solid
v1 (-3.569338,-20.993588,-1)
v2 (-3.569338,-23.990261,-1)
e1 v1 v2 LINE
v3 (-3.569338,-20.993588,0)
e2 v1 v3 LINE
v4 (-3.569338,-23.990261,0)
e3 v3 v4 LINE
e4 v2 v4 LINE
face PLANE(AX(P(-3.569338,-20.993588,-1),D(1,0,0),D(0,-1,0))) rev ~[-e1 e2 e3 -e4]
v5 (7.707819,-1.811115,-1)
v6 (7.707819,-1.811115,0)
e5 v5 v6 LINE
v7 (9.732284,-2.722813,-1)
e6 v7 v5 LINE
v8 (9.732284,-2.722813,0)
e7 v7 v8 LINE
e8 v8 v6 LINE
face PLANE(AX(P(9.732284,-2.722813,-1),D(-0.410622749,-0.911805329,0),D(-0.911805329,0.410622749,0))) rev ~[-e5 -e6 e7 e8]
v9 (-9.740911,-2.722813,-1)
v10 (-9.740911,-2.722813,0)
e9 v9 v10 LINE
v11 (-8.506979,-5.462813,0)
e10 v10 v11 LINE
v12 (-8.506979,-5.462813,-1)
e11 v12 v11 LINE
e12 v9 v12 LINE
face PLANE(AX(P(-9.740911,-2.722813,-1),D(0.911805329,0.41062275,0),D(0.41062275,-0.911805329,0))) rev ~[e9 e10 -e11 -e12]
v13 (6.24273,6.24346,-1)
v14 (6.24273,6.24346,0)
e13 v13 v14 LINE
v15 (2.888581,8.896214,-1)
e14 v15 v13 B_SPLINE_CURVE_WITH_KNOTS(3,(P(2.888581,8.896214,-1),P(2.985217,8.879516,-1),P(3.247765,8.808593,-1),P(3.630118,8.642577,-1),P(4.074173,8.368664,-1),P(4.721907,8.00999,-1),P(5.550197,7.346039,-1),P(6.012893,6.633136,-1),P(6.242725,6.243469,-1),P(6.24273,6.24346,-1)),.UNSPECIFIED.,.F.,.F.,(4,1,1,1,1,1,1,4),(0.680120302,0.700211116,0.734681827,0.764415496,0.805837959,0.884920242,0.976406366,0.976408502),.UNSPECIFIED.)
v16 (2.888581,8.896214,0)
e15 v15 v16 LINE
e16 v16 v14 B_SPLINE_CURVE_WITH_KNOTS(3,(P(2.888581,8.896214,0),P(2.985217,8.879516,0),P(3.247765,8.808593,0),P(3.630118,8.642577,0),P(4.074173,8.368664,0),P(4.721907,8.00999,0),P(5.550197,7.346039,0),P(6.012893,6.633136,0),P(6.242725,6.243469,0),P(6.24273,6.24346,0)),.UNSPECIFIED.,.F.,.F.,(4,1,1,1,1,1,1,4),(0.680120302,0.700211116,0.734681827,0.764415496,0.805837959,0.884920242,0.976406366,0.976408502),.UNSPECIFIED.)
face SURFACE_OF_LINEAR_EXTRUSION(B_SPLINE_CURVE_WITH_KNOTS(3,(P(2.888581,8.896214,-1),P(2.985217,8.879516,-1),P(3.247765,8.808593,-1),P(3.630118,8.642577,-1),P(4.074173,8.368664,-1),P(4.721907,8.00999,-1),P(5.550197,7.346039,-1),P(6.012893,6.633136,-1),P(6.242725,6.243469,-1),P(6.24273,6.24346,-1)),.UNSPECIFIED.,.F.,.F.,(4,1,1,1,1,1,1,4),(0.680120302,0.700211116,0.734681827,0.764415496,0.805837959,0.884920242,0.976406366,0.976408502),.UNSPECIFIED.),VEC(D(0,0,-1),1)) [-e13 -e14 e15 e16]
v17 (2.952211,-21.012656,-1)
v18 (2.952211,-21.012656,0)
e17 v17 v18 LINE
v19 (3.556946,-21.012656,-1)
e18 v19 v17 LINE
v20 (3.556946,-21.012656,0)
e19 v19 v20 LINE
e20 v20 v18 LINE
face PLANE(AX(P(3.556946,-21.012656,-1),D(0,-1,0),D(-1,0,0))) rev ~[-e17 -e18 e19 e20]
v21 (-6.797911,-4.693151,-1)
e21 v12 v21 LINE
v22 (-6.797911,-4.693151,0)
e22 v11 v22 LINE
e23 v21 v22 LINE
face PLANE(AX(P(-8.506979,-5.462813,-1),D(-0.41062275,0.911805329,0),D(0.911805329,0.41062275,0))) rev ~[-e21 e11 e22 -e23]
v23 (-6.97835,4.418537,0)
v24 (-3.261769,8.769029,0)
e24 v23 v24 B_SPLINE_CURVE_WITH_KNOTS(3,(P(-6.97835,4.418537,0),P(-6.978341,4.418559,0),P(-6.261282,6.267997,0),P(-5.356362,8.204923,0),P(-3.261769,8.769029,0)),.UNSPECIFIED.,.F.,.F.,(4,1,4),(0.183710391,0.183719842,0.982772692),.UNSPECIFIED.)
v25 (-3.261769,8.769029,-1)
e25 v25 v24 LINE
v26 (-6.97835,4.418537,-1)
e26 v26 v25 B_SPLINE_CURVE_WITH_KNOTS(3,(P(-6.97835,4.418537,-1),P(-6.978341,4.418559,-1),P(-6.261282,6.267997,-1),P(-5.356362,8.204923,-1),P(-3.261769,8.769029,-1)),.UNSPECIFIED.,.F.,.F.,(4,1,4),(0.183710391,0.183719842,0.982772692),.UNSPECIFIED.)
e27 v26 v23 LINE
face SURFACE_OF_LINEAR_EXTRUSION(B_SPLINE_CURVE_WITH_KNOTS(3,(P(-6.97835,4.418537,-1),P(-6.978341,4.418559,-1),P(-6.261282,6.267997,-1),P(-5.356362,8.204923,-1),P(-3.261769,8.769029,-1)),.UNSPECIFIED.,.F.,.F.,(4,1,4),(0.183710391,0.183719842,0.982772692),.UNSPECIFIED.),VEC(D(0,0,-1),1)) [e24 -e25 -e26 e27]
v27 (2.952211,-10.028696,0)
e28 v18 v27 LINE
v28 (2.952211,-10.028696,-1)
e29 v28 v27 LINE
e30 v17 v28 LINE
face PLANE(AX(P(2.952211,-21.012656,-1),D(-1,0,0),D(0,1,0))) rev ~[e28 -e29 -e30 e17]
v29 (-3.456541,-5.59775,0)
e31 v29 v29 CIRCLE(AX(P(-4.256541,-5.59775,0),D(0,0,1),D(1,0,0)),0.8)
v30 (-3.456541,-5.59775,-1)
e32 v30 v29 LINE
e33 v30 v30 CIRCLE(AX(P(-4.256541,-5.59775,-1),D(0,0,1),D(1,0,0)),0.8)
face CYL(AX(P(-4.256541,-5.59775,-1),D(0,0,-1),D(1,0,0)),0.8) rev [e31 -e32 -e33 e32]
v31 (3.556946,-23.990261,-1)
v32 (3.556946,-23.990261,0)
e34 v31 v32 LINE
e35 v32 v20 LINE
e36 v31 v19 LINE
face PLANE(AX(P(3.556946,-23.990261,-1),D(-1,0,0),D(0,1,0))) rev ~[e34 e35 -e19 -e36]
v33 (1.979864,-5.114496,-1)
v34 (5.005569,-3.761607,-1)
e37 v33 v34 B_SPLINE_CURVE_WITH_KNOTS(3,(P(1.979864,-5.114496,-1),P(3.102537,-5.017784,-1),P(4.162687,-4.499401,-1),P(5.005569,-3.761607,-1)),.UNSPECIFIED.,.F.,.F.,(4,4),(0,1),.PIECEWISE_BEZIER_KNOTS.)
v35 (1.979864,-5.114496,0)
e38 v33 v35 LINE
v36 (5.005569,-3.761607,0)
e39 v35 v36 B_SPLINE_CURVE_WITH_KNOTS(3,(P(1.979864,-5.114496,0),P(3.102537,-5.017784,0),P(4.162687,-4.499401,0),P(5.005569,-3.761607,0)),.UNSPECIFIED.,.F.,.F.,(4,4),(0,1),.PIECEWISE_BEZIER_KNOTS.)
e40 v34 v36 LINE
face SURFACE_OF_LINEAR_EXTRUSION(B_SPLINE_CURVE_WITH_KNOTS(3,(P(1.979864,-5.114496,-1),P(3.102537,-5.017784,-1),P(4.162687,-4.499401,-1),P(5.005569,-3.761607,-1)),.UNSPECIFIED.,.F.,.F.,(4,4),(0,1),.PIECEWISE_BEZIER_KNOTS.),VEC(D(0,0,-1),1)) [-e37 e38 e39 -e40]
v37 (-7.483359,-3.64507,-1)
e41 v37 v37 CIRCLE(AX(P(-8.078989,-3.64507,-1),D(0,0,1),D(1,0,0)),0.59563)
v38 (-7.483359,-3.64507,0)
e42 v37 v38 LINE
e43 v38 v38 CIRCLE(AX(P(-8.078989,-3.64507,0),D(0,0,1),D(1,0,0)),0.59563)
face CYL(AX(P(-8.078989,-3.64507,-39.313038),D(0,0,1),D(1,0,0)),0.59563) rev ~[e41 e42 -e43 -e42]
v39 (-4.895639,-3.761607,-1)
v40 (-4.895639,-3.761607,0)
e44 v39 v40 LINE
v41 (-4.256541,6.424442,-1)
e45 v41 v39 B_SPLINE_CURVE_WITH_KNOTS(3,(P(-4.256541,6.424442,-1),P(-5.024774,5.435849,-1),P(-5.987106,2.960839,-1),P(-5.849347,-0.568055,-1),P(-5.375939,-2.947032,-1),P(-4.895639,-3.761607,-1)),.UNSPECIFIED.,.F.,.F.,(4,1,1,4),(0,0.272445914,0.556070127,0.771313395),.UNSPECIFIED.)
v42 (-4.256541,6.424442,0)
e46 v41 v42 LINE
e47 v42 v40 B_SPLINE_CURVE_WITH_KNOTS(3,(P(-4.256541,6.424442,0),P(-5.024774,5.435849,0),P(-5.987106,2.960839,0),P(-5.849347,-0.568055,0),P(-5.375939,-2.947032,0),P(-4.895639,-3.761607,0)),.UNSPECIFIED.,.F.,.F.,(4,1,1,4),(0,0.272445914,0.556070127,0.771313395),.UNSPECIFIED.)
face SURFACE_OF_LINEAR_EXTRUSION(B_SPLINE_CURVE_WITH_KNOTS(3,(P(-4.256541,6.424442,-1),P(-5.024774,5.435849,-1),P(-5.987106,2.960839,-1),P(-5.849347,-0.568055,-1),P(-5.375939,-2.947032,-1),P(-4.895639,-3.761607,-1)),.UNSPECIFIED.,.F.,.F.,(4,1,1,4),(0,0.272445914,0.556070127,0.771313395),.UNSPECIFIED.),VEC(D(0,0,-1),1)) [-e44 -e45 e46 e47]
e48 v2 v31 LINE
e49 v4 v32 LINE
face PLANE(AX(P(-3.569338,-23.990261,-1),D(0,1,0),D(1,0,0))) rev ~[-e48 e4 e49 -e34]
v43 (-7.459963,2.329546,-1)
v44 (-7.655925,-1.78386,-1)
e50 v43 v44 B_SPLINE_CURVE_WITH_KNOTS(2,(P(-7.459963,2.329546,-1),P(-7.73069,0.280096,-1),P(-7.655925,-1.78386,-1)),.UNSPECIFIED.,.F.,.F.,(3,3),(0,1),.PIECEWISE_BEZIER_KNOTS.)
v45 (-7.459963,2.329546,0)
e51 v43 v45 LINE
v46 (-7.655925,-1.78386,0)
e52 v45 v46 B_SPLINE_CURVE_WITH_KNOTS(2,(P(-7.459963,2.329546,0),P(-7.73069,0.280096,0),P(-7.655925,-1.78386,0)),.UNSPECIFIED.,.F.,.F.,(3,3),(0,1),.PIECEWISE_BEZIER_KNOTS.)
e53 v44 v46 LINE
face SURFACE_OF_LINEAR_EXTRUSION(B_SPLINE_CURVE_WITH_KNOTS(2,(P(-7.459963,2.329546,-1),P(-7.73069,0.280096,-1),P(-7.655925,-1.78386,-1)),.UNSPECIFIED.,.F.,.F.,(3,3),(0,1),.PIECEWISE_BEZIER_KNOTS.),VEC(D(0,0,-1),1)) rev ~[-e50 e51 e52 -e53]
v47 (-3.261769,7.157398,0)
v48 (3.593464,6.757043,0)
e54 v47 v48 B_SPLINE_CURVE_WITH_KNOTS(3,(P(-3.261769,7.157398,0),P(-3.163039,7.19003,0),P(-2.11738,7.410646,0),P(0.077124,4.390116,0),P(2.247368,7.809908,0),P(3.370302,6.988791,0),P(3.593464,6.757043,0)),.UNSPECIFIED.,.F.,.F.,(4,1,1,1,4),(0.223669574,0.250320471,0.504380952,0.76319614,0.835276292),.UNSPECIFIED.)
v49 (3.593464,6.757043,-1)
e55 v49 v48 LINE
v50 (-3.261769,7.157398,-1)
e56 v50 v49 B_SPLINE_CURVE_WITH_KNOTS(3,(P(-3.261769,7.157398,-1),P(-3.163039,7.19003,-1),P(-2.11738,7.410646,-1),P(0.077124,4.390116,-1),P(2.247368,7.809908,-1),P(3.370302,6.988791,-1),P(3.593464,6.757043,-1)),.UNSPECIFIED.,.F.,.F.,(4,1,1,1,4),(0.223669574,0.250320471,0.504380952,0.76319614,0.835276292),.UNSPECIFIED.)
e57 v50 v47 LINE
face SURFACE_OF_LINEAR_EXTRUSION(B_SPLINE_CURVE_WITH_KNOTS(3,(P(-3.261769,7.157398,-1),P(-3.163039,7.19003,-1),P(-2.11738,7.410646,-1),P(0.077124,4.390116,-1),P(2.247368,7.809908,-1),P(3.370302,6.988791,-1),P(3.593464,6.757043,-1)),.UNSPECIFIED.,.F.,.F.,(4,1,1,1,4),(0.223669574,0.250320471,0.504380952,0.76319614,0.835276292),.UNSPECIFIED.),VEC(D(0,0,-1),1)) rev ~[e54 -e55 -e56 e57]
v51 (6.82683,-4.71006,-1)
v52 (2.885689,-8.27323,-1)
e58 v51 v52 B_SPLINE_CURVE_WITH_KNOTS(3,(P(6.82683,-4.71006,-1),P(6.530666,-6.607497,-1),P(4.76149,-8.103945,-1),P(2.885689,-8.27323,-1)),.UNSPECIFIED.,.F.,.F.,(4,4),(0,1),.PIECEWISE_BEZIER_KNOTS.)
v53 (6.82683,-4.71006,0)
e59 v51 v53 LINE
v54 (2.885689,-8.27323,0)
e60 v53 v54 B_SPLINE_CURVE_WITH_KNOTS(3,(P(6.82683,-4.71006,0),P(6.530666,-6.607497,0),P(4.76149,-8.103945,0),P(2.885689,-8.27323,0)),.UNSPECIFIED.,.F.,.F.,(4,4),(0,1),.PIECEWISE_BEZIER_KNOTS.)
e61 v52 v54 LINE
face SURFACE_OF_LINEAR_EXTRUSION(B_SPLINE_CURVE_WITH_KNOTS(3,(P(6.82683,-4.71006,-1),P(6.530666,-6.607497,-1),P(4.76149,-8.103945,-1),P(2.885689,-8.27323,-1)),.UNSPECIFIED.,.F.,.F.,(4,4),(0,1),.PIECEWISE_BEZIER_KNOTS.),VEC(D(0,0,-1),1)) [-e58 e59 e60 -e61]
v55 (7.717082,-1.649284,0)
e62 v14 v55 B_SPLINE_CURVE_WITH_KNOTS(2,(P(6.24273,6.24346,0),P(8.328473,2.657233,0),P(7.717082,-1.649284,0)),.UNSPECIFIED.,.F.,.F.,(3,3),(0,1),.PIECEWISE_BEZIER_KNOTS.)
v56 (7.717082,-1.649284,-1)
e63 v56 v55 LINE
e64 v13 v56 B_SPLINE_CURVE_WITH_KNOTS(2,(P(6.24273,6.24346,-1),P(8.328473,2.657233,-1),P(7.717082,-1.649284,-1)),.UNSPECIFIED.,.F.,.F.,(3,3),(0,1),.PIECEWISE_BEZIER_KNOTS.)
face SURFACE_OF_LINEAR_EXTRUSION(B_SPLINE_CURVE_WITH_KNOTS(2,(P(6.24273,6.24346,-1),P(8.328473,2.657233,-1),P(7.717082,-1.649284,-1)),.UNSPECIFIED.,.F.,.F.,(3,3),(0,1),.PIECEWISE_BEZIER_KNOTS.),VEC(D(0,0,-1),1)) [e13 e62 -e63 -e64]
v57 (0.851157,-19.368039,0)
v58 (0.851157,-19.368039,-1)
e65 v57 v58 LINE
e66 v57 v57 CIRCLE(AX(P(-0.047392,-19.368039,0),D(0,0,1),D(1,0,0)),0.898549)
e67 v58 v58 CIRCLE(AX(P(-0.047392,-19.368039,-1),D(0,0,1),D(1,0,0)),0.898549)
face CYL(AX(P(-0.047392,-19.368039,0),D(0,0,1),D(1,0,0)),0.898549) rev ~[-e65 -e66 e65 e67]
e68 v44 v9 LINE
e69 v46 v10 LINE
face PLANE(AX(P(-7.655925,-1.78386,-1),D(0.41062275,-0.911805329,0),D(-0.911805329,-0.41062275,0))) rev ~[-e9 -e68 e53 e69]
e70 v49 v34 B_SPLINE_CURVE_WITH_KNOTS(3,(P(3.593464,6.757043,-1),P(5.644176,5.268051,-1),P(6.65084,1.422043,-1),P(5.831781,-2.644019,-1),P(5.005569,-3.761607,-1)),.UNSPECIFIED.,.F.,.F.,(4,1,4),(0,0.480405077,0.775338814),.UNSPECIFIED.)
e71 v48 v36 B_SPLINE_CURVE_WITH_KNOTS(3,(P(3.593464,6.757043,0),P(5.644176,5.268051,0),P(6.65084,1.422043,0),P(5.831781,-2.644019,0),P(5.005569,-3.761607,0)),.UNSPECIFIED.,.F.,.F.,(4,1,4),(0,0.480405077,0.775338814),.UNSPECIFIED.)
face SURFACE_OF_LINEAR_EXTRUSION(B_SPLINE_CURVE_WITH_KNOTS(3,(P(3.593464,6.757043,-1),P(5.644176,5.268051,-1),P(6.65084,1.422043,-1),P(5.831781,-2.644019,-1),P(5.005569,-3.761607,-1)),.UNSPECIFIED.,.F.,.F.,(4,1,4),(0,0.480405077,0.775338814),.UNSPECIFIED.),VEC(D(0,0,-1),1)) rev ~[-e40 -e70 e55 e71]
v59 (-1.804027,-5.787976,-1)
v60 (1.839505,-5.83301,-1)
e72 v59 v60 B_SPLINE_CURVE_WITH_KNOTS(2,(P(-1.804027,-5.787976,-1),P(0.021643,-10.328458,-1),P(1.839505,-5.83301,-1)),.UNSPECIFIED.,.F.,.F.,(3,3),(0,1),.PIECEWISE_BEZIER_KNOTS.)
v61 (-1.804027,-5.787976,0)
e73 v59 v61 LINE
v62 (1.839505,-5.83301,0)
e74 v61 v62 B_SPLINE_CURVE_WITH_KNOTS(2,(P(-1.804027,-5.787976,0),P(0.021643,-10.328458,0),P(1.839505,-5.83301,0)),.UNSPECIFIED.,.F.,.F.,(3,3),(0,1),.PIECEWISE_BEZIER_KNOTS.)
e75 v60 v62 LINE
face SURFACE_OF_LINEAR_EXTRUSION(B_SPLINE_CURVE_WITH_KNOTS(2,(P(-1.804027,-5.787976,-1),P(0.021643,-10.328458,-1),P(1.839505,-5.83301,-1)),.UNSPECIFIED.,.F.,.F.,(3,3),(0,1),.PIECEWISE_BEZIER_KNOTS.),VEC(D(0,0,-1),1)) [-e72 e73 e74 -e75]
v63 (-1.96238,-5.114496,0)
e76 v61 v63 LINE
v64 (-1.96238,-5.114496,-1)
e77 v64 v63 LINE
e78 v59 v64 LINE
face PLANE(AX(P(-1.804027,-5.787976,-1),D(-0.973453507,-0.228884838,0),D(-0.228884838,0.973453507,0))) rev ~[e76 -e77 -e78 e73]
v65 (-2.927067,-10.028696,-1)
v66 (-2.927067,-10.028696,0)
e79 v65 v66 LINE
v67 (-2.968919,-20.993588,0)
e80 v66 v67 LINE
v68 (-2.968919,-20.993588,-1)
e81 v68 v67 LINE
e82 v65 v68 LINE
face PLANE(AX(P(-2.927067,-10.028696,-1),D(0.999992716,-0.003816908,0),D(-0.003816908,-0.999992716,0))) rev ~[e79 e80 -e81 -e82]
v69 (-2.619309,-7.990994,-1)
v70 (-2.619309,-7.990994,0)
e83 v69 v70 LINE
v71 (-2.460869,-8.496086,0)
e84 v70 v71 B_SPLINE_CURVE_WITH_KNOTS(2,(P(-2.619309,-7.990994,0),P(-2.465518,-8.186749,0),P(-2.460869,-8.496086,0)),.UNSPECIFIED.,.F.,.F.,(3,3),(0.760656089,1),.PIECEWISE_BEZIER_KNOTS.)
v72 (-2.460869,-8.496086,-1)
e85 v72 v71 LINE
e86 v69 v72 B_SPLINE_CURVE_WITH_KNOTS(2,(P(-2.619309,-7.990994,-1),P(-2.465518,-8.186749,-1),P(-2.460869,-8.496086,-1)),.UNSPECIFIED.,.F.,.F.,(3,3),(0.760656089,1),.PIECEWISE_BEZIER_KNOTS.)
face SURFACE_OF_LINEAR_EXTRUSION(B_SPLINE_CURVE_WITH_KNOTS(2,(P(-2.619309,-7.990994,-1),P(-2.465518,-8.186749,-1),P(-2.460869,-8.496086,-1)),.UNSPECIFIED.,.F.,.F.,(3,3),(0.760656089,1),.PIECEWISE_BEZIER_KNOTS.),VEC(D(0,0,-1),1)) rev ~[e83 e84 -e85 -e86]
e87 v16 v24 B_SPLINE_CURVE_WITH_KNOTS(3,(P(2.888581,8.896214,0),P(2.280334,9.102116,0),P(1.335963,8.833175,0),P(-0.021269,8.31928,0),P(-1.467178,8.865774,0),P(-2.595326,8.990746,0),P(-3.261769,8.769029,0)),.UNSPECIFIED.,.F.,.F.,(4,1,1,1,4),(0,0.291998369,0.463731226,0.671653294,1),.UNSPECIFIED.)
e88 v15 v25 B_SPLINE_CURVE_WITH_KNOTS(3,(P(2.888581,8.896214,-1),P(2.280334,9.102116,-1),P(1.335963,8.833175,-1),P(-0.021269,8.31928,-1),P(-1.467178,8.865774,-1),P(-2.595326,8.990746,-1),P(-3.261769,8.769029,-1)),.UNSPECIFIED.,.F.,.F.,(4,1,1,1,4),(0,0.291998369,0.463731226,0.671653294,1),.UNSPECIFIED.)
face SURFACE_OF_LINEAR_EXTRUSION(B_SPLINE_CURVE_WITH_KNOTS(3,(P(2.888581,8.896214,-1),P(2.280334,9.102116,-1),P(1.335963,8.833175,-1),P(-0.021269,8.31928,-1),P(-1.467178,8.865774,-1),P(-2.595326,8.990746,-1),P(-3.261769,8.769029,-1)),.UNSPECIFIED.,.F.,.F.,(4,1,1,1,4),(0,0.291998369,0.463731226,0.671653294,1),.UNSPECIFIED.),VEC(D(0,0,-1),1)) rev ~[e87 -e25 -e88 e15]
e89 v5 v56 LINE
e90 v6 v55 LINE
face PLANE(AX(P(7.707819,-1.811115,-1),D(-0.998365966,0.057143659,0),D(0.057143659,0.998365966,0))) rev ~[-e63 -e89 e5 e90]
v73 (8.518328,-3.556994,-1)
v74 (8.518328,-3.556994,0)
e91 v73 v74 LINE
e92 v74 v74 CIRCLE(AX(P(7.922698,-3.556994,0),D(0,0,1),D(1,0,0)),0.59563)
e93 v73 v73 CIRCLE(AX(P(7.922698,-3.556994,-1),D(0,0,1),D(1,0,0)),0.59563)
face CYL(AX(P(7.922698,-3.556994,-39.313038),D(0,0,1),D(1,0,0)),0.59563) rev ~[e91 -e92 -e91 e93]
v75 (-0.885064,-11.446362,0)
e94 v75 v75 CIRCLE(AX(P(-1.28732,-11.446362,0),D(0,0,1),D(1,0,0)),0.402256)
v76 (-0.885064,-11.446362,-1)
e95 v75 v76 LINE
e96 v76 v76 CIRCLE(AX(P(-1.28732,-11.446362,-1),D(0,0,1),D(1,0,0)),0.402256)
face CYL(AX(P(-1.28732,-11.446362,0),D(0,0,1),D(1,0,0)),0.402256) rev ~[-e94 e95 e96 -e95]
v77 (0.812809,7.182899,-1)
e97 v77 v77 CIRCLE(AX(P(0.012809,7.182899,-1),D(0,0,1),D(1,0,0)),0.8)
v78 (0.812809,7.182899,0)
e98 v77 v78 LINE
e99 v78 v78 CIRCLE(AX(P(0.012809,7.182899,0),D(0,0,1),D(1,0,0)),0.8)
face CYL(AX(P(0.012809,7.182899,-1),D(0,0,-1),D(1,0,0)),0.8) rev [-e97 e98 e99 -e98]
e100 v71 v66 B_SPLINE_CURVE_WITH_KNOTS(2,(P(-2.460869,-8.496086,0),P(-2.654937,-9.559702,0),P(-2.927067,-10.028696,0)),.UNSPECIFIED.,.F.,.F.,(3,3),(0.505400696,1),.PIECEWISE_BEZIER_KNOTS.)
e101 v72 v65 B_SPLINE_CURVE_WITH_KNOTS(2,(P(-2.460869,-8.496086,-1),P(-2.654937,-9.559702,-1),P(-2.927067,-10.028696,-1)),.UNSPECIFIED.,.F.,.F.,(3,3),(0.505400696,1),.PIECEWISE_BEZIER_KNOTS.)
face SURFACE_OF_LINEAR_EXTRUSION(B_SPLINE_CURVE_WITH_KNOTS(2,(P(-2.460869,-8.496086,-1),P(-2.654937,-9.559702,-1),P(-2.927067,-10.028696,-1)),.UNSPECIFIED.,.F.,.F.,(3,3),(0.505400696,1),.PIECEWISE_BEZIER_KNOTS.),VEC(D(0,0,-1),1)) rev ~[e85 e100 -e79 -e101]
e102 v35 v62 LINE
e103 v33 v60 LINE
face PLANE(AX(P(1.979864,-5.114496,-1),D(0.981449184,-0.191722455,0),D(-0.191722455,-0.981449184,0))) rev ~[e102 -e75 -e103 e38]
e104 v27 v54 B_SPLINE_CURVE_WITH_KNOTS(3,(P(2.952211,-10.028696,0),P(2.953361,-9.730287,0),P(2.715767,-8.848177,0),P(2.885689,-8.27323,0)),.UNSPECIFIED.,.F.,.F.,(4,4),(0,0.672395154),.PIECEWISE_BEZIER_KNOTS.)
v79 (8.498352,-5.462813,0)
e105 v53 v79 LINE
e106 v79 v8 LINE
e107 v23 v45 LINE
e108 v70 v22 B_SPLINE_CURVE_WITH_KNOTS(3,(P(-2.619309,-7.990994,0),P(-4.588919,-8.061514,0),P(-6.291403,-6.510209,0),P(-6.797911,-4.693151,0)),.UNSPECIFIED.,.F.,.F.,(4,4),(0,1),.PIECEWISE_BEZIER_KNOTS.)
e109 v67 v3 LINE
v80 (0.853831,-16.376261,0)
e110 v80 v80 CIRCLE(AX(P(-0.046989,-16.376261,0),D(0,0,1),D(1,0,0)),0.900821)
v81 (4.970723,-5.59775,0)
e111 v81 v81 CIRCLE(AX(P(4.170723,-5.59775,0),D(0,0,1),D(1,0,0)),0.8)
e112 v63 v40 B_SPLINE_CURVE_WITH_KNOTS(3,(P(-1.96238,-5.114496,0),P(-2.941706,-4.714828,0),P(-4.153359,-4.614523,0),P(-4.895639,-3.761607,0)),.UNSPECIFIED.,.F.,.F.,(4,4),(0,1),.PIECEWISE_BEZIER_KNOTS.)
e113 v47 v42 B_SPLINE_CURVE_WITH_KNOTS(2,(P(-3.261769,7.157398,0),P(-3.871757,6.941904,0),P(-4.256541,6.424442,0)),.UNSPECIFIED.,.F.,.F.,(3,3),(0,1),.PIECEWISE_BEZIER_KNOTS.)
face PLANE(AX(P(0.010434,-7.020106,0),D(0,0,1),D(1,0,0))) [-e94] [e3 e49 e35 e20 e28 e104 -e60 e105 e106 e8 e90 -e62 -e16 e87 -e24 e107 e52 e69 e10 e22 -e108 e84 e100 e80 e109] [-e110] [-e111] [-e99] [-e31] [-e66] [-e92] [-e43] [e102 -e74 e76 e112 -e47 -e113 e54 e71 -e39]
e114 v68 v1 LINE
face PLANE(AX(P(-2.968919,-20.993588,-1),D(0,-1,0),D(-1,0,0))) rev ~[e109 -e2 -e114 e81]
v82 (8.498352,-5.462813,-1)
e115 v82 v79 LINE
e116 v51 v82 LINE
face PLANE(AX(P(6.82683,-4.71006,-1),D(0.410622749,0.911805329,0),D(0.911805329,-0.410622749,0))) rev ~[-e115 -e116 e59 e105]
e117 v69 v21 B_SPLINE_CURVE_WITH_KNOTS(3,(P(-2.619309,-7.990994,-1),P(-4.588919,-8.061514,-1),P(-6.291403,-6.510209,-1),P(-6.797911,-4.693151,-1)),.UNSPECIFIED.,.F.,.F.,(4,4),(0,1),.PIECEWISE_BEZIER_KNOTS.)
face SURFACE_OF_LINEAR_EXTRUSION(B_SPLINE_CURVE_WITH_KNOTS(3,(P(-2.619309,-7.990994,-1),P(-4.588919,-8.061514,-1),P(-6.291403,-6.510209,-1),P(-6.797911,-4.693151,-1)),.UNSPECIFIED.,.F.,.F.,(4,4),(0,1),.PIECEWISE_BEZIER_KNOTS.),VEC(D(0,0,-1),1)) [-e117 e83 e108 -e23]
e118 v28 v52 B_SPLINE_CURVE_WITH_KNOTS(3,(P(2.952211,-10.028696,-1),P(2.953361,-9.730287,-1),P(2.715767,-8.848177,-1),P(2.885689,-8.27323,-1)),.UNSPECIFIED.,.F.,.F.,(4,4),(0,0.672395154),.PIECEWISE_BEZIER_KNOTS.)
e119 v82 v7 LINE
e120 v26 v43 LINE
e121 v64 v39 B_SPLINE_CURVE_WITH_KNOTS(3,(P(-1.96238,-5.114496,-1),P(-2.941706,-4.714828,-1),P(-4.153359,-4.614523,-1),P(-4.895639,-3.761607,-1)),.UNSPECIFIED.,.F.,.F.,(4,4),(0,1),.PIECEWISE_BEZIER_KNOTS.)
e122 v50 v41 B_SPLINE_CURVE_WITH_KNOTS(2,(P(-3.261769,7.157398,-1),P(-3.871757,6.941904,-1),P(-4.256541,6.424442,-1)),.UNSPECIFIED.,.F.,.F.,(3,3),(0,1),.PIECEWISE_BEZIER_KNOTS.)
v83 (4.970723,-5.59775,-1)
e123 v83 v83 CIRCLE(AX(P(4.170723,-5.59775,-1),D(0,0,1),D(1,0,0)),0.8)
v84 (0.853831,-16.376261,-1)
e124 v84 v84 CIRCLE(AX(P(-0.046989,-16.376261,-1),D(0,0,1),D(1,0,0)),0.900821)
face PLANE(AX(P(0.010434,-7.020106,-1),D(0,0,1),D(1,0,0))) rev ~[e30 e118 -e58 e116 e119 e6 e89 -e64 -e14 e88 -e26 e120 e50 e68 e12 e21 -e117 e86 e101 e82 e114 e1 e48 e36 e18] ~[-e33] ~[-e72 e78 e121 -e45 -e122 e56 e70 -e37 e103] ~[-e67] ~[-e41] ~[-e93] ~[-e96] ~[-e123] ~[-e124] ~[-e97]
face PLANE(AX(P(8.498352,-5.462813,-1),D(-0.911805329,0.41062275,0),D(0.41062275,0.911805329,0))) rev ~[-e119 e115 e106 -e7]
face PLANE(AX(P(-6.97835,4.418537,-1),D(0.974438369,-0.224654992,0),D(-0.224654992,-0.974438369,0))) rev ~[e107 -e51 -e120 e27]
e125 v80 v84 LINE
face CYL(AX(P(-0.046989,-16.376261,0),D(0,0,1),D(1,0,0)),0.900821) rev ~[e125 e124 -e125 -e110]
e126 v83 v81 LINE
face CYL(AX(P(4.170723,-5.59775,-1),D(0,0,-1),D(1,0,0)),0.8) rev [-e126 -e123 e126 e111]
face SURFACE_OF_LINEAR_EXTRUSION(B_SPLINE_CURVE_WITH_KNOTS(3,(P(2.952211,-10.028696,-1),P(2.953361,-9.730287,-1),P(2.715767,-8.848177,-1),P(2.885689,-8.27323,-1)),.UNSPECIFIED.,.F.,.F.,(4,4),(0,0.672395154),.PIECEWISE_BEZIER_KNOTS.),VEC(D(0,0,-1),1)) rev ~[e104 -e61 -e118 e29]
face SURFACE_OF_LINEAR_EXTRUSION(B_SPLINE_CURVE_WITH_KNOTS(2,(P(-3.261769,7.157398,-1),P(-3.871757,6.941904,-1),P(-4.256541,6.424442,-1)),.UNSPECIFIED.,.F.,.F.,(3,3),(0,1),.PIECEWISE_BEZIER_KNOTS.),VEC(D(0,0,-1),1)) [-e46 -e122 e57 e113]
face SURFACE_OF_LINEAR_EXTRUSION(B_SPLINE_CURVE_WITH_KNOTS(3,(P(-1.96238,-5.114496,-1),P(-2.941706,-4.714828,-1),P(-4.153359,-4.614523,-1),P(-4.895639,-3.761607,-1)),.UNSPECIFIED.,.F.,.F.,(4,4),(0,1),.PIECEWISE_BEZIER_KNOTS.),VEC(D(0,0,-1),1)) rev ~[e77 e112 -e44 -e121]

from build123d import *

# Parameters (mm, degrees)
BOSS_EXTRUDE1_START   = -1
SKETCH1_R             = 0.8
BOSS_EXTRUDE1_DEPTH   = 1
SKETCH7_R             = 0.898548633
SKETCH7_R_2           = 0.900820611
SKETCH7_R_3           = 0.402256278
CUT_EXTRUDE9_DEPTH    = 10
F_0_80_TAPPED_HOLE2_D = 1.19126
F_0_80_TAPPED_HOLE3_D = 1.19126


with BuildPart() as part:
    # Sketch1 → Boss-Extrude1 (new body)
    with BuildSketch(Plane.XY.offset(BOSS_EXTRUDE1_START)):
        with BuildLine():
            Line((-7.655924922, -1.783859884), (-9.740911438, -2.722813484))
            Line((-9.740911438, -2.722813484), (-8.506978823, -5.462813484))
            Line((-8.506978823, -5.462813484), (-6.79791054, -4.69315104))
            add(Edge.make_bspline(
                [(-2.619308836, -7.990994312), (-4.588919021, -8.061513983), (-6.291403266, -6.510208965), (-6.79791054, -4.69315104)],
                knots=[0, 0, 0, 0, 1, 1, 1, 1], degree=3))
            add(Edge.make_bspline(
                [(-2.619308836, -7.990994312), (-2.465518072, -8.186748708), (-2.460868626, -8.496086459)],
                knots=[0.760656089, 0.760656089, 0.760656089, 1, 1, 1], degree=2))
            add(Edge.make_bspline(
                [(-2.460868626, -8.496086459), (-2.65493709, -9.55970155), (-2.927067031, -10.028695592)],
                knots=[0.505400696, 0.505400696, 0.505400696, 1, 1, 1], degree=2))
            Line((-2.927067031, -10.028695592), (-2.968919318, -20.993587767))
            Line((-2.968919318, -20.993587767), (-3.569337553, -20.993587767))
            Line((-3.569337553, -20.993587767), (-3.569337553, -23.990261353))
            Line((-3.569337553, -23.990261353), (3.556946411, -23.990261353))
            Line((3.556946411, -23.990261353), (3.556946411, -21.012656051))
            Line((3.556946411, -21.012656051), (2.952210653, -21.012656051))
            Line((2.952210653, -21.012656051), (2.952210653, -10.028695592))
            add(Edge.make_bspline(
                [(2.952210653, -10.028695592), (2.953361032, -9.730287058), (2.715766736, -8.848177203), (2.885688703, -8.273229584)],
                knots=[0, 0, 0, 0, 0.672395154, 0.672395154, 0.672395154, 0.672395154], degree=3))
            add(Edge.make_bspline(
                [(6.826829986, -4.71005972), (6.530666267, -6.607497463), (4.761489994, -8.103944733), (2.885688703, -8.273229584)],
                knots=[0, 0, 0, 0, 1, 1, 1, 1], degree=3))
            Line((6.826829986, -4.71005972), (8.498351825, -5.462813484))
            Line((8.498351825, -5.462813484), (9.73228444, -2.722813484))
            Line((9.73228444, -2.722813484), (7.707819022, -1.811114978))
            Line((7.707819022, -1.811114978), (7.717081791, -1.649283667))
            add(Edge.make_bspline(
                [(6.242730234, 6.243460256), (8.328472862, 2.657233336), (7.717081791, -1.649283667)],
                knots=[0, 0, 0, 1, 1, 1], degree=2))
            add(Edge.make_bspline(
                [(2.888581262, 8.896214027), (2.985217378, 8.879515932), (3.247765026, 8.808593113), (3.630118411, 8.642577), (4.074173184, 8.36866418), (4.721906948, 8.009989726), (5.550196572, 7.346039296), (6.012892554, 6.633136043), (6.242724869, 6.243469352), (6.242730234, 6.243460256)],
                knots=[0.680120302, 0.680120302, 0.680120302, 0.680120302, 0.700211116, 0.734681827, 0.764415496, 0.805837959, 0.884920242, 0.976406366, 0.976408502, 0.976408502, 0.976408502, 0.976408502], degree=3))
            add(Edge.make_bspline(
                [(2.888581262, 8.896214027), (2.280334466, 9.102116147), (1.335962581, 8.833175098), (-0.021268554, 8.319279629), (-1.467178457, 8.865773987), (-2.595326146, 8.990746146), (-3.261769012, 8.769028641)],
                knots=[0, 0, 0, 0, 0.291998369, 0.463731226, 0.671653294, 1, 1, 1, 1], degree=3))
            add(Edge.make_bspline(
                [(-6.978349655, 4.418537245), (-6.978341175, 4.418559118), (-6.261281728, 6.267997055), (-5.356361794, 8.204922518), (-3.261769012, 8.769028641)],
                knots=[0.183710391, 0.183710391, 0.183710391, 0.183710391, 0.183719842, 0.982772692, 0.982772692, 0.982772692, 0.982772692], degree=3))
            Line((-6.978349655, 4.418537245), (-7.459962837, 2.329545769))
            add(Edge.make_bspline(
                [(-7.459962837, 2.329545769), (-7.730690273, 0.280095873), (-7.655924922, -1.783859884)],
                knots=[0, 0, 0, 1, 1, 1], degree=2))
        make_face()
        with Locations((-4.256541488, -5.597749713)):
            Circle(SKETCH1_R, mode=Mode.SUBTRACT)
        with Locations((4.170722828, -5.597749713)):
            Circle(SKETCH1_R, mode=Mode.SUBTRACT)
        with BuildLine():
            add(Edge.make_bspline(
                [(-1.804027034, -5.787976133), (0.02164308, -10.328457974), (1.839505032, -5.833009783)],
                knots=[0, 0, 0, 1, 1, 1], degree=2))
            Line((-1.804027034, -5.787976133), (-1.962380096, -5.114496208))
            add(Edge.make_bspline(
                [(-1.962380096, -5.114496208), (-2.941705535, -4.714827932), (-4.153358989, -4.614522903), (-4.895639487, -3.761606791)],
                knots=[0, 0, 0, 0, 1, 1, 1, 1], degree=3))
            add(Edge.make_bspline(
                [(-4.256541488, 6.424442026), (-5.024773734, 5.435848631), (-5.987106297, 2.960839001), (-5.849347194, -0.56805471), (-5.37593872, -2.947032062), (-4.895639487, -3.761606791)],
                knots=[0, 0, 0, 0, 0.272445914, 0.556070127, 0.771313395, 0.771313395, 0.771313395, 0.771313395], degree=3))
            add(Edge.make_bspline(
                [(-3.261769012, 7.15739827), (-3.8717566, 6.941904365), (-4.256541488, 6.424442026)],
                knots=[0, 0, 0, 1, 1, 1], degree=2))
            add(Edge.make_bspline(
                [(-3.261769012, 7.15739827), (-3.163039034, 7.19003027), (-2.117380019, 7.410646221), (0.07712388, 4.390116457), (2.247368009, 7.809908036), (3.370301543, 6.988790875), (3.593464255, 6.757042923)],
                knots=[0.223669574, 0.223669574, 0.223669574, 0.223669574, 0.250320471, 0.504380952, 0.76319614, 0.835276292, 0.835276292, 0.835276292, 0.835276292], degree=3))
            add(Edge.make_bspline(
                [(3.593464255, 6.757042923), (5.644175861, 5.268051013), (6.650840286, 1.422043117), (5.831780767, -2.644018853), (5.005569013, -3.761606791)],
                knots=[0, 0, 0, 0, 0.480405077, 0.775338814, 0.775338814, 0.775338814, 0.775338814], degree=3))
            add(Edge.make_bspline(
                [(1.979863992, -5.114496208), (3.102537491, -5.017783712), (4.162687131, -4.499401159), (5.005569013, -3.761606791)],
                knots=[0, 0, 0, 0, 1, 1, 1, 1], degree=3))
            Line((1.979863992, -5.114496208), (1.839505032, -5.833009783))
        make_face(mode=Mode.SUBTRACT)
        with Locations((0.012809238, 7.182899015)):
            Circle(SKETCH1_R, mode=Mode.SUBTRACT)
    extrude(amount=BOSS_EXTRUDE1_DEPTH)

    # Sketch7 → Cut-Extrude9 (cut)
    with BuildSketch(Plane.XY):
        with Locations((-0.047392103, -19.368039034)):
            Circle(SKETCH7_R)
        with Locations((-0.046989341, -16.376260671)):
            Circle(SKETCH7_R_2)
        with Locations((-1.287320407, -11.446362098)):
            Circle(SKETCH7_R_3)
    extrude(amount=-CUT_EXTRUDE9_DEPTH, mode=Mode.SUBTRACT)

    # #0-80 Tapped Hole2 (through all)
    with Locations(Plane(origin=(0, 0, -1), x_dir=(-1, 0, 0), z_dir=(0, 0, -1))):
        with Locations((-7.922698165, -3.556993775)):
            Hole(F_0_80_TAPPED_HOLE2_D / 2)

    # #0-80 Tapped Hole3 (through all)
    with Locations(Plane(origin=(0, 0, -1), x_dir=(-1, 0, 0), z_dir=(0, 0, -1))):
        with Locations((8.078988794, -3.645070301)):
            Hole(F_0_80_TAPPED_HOLE3_D / 2)


solid = part.part
